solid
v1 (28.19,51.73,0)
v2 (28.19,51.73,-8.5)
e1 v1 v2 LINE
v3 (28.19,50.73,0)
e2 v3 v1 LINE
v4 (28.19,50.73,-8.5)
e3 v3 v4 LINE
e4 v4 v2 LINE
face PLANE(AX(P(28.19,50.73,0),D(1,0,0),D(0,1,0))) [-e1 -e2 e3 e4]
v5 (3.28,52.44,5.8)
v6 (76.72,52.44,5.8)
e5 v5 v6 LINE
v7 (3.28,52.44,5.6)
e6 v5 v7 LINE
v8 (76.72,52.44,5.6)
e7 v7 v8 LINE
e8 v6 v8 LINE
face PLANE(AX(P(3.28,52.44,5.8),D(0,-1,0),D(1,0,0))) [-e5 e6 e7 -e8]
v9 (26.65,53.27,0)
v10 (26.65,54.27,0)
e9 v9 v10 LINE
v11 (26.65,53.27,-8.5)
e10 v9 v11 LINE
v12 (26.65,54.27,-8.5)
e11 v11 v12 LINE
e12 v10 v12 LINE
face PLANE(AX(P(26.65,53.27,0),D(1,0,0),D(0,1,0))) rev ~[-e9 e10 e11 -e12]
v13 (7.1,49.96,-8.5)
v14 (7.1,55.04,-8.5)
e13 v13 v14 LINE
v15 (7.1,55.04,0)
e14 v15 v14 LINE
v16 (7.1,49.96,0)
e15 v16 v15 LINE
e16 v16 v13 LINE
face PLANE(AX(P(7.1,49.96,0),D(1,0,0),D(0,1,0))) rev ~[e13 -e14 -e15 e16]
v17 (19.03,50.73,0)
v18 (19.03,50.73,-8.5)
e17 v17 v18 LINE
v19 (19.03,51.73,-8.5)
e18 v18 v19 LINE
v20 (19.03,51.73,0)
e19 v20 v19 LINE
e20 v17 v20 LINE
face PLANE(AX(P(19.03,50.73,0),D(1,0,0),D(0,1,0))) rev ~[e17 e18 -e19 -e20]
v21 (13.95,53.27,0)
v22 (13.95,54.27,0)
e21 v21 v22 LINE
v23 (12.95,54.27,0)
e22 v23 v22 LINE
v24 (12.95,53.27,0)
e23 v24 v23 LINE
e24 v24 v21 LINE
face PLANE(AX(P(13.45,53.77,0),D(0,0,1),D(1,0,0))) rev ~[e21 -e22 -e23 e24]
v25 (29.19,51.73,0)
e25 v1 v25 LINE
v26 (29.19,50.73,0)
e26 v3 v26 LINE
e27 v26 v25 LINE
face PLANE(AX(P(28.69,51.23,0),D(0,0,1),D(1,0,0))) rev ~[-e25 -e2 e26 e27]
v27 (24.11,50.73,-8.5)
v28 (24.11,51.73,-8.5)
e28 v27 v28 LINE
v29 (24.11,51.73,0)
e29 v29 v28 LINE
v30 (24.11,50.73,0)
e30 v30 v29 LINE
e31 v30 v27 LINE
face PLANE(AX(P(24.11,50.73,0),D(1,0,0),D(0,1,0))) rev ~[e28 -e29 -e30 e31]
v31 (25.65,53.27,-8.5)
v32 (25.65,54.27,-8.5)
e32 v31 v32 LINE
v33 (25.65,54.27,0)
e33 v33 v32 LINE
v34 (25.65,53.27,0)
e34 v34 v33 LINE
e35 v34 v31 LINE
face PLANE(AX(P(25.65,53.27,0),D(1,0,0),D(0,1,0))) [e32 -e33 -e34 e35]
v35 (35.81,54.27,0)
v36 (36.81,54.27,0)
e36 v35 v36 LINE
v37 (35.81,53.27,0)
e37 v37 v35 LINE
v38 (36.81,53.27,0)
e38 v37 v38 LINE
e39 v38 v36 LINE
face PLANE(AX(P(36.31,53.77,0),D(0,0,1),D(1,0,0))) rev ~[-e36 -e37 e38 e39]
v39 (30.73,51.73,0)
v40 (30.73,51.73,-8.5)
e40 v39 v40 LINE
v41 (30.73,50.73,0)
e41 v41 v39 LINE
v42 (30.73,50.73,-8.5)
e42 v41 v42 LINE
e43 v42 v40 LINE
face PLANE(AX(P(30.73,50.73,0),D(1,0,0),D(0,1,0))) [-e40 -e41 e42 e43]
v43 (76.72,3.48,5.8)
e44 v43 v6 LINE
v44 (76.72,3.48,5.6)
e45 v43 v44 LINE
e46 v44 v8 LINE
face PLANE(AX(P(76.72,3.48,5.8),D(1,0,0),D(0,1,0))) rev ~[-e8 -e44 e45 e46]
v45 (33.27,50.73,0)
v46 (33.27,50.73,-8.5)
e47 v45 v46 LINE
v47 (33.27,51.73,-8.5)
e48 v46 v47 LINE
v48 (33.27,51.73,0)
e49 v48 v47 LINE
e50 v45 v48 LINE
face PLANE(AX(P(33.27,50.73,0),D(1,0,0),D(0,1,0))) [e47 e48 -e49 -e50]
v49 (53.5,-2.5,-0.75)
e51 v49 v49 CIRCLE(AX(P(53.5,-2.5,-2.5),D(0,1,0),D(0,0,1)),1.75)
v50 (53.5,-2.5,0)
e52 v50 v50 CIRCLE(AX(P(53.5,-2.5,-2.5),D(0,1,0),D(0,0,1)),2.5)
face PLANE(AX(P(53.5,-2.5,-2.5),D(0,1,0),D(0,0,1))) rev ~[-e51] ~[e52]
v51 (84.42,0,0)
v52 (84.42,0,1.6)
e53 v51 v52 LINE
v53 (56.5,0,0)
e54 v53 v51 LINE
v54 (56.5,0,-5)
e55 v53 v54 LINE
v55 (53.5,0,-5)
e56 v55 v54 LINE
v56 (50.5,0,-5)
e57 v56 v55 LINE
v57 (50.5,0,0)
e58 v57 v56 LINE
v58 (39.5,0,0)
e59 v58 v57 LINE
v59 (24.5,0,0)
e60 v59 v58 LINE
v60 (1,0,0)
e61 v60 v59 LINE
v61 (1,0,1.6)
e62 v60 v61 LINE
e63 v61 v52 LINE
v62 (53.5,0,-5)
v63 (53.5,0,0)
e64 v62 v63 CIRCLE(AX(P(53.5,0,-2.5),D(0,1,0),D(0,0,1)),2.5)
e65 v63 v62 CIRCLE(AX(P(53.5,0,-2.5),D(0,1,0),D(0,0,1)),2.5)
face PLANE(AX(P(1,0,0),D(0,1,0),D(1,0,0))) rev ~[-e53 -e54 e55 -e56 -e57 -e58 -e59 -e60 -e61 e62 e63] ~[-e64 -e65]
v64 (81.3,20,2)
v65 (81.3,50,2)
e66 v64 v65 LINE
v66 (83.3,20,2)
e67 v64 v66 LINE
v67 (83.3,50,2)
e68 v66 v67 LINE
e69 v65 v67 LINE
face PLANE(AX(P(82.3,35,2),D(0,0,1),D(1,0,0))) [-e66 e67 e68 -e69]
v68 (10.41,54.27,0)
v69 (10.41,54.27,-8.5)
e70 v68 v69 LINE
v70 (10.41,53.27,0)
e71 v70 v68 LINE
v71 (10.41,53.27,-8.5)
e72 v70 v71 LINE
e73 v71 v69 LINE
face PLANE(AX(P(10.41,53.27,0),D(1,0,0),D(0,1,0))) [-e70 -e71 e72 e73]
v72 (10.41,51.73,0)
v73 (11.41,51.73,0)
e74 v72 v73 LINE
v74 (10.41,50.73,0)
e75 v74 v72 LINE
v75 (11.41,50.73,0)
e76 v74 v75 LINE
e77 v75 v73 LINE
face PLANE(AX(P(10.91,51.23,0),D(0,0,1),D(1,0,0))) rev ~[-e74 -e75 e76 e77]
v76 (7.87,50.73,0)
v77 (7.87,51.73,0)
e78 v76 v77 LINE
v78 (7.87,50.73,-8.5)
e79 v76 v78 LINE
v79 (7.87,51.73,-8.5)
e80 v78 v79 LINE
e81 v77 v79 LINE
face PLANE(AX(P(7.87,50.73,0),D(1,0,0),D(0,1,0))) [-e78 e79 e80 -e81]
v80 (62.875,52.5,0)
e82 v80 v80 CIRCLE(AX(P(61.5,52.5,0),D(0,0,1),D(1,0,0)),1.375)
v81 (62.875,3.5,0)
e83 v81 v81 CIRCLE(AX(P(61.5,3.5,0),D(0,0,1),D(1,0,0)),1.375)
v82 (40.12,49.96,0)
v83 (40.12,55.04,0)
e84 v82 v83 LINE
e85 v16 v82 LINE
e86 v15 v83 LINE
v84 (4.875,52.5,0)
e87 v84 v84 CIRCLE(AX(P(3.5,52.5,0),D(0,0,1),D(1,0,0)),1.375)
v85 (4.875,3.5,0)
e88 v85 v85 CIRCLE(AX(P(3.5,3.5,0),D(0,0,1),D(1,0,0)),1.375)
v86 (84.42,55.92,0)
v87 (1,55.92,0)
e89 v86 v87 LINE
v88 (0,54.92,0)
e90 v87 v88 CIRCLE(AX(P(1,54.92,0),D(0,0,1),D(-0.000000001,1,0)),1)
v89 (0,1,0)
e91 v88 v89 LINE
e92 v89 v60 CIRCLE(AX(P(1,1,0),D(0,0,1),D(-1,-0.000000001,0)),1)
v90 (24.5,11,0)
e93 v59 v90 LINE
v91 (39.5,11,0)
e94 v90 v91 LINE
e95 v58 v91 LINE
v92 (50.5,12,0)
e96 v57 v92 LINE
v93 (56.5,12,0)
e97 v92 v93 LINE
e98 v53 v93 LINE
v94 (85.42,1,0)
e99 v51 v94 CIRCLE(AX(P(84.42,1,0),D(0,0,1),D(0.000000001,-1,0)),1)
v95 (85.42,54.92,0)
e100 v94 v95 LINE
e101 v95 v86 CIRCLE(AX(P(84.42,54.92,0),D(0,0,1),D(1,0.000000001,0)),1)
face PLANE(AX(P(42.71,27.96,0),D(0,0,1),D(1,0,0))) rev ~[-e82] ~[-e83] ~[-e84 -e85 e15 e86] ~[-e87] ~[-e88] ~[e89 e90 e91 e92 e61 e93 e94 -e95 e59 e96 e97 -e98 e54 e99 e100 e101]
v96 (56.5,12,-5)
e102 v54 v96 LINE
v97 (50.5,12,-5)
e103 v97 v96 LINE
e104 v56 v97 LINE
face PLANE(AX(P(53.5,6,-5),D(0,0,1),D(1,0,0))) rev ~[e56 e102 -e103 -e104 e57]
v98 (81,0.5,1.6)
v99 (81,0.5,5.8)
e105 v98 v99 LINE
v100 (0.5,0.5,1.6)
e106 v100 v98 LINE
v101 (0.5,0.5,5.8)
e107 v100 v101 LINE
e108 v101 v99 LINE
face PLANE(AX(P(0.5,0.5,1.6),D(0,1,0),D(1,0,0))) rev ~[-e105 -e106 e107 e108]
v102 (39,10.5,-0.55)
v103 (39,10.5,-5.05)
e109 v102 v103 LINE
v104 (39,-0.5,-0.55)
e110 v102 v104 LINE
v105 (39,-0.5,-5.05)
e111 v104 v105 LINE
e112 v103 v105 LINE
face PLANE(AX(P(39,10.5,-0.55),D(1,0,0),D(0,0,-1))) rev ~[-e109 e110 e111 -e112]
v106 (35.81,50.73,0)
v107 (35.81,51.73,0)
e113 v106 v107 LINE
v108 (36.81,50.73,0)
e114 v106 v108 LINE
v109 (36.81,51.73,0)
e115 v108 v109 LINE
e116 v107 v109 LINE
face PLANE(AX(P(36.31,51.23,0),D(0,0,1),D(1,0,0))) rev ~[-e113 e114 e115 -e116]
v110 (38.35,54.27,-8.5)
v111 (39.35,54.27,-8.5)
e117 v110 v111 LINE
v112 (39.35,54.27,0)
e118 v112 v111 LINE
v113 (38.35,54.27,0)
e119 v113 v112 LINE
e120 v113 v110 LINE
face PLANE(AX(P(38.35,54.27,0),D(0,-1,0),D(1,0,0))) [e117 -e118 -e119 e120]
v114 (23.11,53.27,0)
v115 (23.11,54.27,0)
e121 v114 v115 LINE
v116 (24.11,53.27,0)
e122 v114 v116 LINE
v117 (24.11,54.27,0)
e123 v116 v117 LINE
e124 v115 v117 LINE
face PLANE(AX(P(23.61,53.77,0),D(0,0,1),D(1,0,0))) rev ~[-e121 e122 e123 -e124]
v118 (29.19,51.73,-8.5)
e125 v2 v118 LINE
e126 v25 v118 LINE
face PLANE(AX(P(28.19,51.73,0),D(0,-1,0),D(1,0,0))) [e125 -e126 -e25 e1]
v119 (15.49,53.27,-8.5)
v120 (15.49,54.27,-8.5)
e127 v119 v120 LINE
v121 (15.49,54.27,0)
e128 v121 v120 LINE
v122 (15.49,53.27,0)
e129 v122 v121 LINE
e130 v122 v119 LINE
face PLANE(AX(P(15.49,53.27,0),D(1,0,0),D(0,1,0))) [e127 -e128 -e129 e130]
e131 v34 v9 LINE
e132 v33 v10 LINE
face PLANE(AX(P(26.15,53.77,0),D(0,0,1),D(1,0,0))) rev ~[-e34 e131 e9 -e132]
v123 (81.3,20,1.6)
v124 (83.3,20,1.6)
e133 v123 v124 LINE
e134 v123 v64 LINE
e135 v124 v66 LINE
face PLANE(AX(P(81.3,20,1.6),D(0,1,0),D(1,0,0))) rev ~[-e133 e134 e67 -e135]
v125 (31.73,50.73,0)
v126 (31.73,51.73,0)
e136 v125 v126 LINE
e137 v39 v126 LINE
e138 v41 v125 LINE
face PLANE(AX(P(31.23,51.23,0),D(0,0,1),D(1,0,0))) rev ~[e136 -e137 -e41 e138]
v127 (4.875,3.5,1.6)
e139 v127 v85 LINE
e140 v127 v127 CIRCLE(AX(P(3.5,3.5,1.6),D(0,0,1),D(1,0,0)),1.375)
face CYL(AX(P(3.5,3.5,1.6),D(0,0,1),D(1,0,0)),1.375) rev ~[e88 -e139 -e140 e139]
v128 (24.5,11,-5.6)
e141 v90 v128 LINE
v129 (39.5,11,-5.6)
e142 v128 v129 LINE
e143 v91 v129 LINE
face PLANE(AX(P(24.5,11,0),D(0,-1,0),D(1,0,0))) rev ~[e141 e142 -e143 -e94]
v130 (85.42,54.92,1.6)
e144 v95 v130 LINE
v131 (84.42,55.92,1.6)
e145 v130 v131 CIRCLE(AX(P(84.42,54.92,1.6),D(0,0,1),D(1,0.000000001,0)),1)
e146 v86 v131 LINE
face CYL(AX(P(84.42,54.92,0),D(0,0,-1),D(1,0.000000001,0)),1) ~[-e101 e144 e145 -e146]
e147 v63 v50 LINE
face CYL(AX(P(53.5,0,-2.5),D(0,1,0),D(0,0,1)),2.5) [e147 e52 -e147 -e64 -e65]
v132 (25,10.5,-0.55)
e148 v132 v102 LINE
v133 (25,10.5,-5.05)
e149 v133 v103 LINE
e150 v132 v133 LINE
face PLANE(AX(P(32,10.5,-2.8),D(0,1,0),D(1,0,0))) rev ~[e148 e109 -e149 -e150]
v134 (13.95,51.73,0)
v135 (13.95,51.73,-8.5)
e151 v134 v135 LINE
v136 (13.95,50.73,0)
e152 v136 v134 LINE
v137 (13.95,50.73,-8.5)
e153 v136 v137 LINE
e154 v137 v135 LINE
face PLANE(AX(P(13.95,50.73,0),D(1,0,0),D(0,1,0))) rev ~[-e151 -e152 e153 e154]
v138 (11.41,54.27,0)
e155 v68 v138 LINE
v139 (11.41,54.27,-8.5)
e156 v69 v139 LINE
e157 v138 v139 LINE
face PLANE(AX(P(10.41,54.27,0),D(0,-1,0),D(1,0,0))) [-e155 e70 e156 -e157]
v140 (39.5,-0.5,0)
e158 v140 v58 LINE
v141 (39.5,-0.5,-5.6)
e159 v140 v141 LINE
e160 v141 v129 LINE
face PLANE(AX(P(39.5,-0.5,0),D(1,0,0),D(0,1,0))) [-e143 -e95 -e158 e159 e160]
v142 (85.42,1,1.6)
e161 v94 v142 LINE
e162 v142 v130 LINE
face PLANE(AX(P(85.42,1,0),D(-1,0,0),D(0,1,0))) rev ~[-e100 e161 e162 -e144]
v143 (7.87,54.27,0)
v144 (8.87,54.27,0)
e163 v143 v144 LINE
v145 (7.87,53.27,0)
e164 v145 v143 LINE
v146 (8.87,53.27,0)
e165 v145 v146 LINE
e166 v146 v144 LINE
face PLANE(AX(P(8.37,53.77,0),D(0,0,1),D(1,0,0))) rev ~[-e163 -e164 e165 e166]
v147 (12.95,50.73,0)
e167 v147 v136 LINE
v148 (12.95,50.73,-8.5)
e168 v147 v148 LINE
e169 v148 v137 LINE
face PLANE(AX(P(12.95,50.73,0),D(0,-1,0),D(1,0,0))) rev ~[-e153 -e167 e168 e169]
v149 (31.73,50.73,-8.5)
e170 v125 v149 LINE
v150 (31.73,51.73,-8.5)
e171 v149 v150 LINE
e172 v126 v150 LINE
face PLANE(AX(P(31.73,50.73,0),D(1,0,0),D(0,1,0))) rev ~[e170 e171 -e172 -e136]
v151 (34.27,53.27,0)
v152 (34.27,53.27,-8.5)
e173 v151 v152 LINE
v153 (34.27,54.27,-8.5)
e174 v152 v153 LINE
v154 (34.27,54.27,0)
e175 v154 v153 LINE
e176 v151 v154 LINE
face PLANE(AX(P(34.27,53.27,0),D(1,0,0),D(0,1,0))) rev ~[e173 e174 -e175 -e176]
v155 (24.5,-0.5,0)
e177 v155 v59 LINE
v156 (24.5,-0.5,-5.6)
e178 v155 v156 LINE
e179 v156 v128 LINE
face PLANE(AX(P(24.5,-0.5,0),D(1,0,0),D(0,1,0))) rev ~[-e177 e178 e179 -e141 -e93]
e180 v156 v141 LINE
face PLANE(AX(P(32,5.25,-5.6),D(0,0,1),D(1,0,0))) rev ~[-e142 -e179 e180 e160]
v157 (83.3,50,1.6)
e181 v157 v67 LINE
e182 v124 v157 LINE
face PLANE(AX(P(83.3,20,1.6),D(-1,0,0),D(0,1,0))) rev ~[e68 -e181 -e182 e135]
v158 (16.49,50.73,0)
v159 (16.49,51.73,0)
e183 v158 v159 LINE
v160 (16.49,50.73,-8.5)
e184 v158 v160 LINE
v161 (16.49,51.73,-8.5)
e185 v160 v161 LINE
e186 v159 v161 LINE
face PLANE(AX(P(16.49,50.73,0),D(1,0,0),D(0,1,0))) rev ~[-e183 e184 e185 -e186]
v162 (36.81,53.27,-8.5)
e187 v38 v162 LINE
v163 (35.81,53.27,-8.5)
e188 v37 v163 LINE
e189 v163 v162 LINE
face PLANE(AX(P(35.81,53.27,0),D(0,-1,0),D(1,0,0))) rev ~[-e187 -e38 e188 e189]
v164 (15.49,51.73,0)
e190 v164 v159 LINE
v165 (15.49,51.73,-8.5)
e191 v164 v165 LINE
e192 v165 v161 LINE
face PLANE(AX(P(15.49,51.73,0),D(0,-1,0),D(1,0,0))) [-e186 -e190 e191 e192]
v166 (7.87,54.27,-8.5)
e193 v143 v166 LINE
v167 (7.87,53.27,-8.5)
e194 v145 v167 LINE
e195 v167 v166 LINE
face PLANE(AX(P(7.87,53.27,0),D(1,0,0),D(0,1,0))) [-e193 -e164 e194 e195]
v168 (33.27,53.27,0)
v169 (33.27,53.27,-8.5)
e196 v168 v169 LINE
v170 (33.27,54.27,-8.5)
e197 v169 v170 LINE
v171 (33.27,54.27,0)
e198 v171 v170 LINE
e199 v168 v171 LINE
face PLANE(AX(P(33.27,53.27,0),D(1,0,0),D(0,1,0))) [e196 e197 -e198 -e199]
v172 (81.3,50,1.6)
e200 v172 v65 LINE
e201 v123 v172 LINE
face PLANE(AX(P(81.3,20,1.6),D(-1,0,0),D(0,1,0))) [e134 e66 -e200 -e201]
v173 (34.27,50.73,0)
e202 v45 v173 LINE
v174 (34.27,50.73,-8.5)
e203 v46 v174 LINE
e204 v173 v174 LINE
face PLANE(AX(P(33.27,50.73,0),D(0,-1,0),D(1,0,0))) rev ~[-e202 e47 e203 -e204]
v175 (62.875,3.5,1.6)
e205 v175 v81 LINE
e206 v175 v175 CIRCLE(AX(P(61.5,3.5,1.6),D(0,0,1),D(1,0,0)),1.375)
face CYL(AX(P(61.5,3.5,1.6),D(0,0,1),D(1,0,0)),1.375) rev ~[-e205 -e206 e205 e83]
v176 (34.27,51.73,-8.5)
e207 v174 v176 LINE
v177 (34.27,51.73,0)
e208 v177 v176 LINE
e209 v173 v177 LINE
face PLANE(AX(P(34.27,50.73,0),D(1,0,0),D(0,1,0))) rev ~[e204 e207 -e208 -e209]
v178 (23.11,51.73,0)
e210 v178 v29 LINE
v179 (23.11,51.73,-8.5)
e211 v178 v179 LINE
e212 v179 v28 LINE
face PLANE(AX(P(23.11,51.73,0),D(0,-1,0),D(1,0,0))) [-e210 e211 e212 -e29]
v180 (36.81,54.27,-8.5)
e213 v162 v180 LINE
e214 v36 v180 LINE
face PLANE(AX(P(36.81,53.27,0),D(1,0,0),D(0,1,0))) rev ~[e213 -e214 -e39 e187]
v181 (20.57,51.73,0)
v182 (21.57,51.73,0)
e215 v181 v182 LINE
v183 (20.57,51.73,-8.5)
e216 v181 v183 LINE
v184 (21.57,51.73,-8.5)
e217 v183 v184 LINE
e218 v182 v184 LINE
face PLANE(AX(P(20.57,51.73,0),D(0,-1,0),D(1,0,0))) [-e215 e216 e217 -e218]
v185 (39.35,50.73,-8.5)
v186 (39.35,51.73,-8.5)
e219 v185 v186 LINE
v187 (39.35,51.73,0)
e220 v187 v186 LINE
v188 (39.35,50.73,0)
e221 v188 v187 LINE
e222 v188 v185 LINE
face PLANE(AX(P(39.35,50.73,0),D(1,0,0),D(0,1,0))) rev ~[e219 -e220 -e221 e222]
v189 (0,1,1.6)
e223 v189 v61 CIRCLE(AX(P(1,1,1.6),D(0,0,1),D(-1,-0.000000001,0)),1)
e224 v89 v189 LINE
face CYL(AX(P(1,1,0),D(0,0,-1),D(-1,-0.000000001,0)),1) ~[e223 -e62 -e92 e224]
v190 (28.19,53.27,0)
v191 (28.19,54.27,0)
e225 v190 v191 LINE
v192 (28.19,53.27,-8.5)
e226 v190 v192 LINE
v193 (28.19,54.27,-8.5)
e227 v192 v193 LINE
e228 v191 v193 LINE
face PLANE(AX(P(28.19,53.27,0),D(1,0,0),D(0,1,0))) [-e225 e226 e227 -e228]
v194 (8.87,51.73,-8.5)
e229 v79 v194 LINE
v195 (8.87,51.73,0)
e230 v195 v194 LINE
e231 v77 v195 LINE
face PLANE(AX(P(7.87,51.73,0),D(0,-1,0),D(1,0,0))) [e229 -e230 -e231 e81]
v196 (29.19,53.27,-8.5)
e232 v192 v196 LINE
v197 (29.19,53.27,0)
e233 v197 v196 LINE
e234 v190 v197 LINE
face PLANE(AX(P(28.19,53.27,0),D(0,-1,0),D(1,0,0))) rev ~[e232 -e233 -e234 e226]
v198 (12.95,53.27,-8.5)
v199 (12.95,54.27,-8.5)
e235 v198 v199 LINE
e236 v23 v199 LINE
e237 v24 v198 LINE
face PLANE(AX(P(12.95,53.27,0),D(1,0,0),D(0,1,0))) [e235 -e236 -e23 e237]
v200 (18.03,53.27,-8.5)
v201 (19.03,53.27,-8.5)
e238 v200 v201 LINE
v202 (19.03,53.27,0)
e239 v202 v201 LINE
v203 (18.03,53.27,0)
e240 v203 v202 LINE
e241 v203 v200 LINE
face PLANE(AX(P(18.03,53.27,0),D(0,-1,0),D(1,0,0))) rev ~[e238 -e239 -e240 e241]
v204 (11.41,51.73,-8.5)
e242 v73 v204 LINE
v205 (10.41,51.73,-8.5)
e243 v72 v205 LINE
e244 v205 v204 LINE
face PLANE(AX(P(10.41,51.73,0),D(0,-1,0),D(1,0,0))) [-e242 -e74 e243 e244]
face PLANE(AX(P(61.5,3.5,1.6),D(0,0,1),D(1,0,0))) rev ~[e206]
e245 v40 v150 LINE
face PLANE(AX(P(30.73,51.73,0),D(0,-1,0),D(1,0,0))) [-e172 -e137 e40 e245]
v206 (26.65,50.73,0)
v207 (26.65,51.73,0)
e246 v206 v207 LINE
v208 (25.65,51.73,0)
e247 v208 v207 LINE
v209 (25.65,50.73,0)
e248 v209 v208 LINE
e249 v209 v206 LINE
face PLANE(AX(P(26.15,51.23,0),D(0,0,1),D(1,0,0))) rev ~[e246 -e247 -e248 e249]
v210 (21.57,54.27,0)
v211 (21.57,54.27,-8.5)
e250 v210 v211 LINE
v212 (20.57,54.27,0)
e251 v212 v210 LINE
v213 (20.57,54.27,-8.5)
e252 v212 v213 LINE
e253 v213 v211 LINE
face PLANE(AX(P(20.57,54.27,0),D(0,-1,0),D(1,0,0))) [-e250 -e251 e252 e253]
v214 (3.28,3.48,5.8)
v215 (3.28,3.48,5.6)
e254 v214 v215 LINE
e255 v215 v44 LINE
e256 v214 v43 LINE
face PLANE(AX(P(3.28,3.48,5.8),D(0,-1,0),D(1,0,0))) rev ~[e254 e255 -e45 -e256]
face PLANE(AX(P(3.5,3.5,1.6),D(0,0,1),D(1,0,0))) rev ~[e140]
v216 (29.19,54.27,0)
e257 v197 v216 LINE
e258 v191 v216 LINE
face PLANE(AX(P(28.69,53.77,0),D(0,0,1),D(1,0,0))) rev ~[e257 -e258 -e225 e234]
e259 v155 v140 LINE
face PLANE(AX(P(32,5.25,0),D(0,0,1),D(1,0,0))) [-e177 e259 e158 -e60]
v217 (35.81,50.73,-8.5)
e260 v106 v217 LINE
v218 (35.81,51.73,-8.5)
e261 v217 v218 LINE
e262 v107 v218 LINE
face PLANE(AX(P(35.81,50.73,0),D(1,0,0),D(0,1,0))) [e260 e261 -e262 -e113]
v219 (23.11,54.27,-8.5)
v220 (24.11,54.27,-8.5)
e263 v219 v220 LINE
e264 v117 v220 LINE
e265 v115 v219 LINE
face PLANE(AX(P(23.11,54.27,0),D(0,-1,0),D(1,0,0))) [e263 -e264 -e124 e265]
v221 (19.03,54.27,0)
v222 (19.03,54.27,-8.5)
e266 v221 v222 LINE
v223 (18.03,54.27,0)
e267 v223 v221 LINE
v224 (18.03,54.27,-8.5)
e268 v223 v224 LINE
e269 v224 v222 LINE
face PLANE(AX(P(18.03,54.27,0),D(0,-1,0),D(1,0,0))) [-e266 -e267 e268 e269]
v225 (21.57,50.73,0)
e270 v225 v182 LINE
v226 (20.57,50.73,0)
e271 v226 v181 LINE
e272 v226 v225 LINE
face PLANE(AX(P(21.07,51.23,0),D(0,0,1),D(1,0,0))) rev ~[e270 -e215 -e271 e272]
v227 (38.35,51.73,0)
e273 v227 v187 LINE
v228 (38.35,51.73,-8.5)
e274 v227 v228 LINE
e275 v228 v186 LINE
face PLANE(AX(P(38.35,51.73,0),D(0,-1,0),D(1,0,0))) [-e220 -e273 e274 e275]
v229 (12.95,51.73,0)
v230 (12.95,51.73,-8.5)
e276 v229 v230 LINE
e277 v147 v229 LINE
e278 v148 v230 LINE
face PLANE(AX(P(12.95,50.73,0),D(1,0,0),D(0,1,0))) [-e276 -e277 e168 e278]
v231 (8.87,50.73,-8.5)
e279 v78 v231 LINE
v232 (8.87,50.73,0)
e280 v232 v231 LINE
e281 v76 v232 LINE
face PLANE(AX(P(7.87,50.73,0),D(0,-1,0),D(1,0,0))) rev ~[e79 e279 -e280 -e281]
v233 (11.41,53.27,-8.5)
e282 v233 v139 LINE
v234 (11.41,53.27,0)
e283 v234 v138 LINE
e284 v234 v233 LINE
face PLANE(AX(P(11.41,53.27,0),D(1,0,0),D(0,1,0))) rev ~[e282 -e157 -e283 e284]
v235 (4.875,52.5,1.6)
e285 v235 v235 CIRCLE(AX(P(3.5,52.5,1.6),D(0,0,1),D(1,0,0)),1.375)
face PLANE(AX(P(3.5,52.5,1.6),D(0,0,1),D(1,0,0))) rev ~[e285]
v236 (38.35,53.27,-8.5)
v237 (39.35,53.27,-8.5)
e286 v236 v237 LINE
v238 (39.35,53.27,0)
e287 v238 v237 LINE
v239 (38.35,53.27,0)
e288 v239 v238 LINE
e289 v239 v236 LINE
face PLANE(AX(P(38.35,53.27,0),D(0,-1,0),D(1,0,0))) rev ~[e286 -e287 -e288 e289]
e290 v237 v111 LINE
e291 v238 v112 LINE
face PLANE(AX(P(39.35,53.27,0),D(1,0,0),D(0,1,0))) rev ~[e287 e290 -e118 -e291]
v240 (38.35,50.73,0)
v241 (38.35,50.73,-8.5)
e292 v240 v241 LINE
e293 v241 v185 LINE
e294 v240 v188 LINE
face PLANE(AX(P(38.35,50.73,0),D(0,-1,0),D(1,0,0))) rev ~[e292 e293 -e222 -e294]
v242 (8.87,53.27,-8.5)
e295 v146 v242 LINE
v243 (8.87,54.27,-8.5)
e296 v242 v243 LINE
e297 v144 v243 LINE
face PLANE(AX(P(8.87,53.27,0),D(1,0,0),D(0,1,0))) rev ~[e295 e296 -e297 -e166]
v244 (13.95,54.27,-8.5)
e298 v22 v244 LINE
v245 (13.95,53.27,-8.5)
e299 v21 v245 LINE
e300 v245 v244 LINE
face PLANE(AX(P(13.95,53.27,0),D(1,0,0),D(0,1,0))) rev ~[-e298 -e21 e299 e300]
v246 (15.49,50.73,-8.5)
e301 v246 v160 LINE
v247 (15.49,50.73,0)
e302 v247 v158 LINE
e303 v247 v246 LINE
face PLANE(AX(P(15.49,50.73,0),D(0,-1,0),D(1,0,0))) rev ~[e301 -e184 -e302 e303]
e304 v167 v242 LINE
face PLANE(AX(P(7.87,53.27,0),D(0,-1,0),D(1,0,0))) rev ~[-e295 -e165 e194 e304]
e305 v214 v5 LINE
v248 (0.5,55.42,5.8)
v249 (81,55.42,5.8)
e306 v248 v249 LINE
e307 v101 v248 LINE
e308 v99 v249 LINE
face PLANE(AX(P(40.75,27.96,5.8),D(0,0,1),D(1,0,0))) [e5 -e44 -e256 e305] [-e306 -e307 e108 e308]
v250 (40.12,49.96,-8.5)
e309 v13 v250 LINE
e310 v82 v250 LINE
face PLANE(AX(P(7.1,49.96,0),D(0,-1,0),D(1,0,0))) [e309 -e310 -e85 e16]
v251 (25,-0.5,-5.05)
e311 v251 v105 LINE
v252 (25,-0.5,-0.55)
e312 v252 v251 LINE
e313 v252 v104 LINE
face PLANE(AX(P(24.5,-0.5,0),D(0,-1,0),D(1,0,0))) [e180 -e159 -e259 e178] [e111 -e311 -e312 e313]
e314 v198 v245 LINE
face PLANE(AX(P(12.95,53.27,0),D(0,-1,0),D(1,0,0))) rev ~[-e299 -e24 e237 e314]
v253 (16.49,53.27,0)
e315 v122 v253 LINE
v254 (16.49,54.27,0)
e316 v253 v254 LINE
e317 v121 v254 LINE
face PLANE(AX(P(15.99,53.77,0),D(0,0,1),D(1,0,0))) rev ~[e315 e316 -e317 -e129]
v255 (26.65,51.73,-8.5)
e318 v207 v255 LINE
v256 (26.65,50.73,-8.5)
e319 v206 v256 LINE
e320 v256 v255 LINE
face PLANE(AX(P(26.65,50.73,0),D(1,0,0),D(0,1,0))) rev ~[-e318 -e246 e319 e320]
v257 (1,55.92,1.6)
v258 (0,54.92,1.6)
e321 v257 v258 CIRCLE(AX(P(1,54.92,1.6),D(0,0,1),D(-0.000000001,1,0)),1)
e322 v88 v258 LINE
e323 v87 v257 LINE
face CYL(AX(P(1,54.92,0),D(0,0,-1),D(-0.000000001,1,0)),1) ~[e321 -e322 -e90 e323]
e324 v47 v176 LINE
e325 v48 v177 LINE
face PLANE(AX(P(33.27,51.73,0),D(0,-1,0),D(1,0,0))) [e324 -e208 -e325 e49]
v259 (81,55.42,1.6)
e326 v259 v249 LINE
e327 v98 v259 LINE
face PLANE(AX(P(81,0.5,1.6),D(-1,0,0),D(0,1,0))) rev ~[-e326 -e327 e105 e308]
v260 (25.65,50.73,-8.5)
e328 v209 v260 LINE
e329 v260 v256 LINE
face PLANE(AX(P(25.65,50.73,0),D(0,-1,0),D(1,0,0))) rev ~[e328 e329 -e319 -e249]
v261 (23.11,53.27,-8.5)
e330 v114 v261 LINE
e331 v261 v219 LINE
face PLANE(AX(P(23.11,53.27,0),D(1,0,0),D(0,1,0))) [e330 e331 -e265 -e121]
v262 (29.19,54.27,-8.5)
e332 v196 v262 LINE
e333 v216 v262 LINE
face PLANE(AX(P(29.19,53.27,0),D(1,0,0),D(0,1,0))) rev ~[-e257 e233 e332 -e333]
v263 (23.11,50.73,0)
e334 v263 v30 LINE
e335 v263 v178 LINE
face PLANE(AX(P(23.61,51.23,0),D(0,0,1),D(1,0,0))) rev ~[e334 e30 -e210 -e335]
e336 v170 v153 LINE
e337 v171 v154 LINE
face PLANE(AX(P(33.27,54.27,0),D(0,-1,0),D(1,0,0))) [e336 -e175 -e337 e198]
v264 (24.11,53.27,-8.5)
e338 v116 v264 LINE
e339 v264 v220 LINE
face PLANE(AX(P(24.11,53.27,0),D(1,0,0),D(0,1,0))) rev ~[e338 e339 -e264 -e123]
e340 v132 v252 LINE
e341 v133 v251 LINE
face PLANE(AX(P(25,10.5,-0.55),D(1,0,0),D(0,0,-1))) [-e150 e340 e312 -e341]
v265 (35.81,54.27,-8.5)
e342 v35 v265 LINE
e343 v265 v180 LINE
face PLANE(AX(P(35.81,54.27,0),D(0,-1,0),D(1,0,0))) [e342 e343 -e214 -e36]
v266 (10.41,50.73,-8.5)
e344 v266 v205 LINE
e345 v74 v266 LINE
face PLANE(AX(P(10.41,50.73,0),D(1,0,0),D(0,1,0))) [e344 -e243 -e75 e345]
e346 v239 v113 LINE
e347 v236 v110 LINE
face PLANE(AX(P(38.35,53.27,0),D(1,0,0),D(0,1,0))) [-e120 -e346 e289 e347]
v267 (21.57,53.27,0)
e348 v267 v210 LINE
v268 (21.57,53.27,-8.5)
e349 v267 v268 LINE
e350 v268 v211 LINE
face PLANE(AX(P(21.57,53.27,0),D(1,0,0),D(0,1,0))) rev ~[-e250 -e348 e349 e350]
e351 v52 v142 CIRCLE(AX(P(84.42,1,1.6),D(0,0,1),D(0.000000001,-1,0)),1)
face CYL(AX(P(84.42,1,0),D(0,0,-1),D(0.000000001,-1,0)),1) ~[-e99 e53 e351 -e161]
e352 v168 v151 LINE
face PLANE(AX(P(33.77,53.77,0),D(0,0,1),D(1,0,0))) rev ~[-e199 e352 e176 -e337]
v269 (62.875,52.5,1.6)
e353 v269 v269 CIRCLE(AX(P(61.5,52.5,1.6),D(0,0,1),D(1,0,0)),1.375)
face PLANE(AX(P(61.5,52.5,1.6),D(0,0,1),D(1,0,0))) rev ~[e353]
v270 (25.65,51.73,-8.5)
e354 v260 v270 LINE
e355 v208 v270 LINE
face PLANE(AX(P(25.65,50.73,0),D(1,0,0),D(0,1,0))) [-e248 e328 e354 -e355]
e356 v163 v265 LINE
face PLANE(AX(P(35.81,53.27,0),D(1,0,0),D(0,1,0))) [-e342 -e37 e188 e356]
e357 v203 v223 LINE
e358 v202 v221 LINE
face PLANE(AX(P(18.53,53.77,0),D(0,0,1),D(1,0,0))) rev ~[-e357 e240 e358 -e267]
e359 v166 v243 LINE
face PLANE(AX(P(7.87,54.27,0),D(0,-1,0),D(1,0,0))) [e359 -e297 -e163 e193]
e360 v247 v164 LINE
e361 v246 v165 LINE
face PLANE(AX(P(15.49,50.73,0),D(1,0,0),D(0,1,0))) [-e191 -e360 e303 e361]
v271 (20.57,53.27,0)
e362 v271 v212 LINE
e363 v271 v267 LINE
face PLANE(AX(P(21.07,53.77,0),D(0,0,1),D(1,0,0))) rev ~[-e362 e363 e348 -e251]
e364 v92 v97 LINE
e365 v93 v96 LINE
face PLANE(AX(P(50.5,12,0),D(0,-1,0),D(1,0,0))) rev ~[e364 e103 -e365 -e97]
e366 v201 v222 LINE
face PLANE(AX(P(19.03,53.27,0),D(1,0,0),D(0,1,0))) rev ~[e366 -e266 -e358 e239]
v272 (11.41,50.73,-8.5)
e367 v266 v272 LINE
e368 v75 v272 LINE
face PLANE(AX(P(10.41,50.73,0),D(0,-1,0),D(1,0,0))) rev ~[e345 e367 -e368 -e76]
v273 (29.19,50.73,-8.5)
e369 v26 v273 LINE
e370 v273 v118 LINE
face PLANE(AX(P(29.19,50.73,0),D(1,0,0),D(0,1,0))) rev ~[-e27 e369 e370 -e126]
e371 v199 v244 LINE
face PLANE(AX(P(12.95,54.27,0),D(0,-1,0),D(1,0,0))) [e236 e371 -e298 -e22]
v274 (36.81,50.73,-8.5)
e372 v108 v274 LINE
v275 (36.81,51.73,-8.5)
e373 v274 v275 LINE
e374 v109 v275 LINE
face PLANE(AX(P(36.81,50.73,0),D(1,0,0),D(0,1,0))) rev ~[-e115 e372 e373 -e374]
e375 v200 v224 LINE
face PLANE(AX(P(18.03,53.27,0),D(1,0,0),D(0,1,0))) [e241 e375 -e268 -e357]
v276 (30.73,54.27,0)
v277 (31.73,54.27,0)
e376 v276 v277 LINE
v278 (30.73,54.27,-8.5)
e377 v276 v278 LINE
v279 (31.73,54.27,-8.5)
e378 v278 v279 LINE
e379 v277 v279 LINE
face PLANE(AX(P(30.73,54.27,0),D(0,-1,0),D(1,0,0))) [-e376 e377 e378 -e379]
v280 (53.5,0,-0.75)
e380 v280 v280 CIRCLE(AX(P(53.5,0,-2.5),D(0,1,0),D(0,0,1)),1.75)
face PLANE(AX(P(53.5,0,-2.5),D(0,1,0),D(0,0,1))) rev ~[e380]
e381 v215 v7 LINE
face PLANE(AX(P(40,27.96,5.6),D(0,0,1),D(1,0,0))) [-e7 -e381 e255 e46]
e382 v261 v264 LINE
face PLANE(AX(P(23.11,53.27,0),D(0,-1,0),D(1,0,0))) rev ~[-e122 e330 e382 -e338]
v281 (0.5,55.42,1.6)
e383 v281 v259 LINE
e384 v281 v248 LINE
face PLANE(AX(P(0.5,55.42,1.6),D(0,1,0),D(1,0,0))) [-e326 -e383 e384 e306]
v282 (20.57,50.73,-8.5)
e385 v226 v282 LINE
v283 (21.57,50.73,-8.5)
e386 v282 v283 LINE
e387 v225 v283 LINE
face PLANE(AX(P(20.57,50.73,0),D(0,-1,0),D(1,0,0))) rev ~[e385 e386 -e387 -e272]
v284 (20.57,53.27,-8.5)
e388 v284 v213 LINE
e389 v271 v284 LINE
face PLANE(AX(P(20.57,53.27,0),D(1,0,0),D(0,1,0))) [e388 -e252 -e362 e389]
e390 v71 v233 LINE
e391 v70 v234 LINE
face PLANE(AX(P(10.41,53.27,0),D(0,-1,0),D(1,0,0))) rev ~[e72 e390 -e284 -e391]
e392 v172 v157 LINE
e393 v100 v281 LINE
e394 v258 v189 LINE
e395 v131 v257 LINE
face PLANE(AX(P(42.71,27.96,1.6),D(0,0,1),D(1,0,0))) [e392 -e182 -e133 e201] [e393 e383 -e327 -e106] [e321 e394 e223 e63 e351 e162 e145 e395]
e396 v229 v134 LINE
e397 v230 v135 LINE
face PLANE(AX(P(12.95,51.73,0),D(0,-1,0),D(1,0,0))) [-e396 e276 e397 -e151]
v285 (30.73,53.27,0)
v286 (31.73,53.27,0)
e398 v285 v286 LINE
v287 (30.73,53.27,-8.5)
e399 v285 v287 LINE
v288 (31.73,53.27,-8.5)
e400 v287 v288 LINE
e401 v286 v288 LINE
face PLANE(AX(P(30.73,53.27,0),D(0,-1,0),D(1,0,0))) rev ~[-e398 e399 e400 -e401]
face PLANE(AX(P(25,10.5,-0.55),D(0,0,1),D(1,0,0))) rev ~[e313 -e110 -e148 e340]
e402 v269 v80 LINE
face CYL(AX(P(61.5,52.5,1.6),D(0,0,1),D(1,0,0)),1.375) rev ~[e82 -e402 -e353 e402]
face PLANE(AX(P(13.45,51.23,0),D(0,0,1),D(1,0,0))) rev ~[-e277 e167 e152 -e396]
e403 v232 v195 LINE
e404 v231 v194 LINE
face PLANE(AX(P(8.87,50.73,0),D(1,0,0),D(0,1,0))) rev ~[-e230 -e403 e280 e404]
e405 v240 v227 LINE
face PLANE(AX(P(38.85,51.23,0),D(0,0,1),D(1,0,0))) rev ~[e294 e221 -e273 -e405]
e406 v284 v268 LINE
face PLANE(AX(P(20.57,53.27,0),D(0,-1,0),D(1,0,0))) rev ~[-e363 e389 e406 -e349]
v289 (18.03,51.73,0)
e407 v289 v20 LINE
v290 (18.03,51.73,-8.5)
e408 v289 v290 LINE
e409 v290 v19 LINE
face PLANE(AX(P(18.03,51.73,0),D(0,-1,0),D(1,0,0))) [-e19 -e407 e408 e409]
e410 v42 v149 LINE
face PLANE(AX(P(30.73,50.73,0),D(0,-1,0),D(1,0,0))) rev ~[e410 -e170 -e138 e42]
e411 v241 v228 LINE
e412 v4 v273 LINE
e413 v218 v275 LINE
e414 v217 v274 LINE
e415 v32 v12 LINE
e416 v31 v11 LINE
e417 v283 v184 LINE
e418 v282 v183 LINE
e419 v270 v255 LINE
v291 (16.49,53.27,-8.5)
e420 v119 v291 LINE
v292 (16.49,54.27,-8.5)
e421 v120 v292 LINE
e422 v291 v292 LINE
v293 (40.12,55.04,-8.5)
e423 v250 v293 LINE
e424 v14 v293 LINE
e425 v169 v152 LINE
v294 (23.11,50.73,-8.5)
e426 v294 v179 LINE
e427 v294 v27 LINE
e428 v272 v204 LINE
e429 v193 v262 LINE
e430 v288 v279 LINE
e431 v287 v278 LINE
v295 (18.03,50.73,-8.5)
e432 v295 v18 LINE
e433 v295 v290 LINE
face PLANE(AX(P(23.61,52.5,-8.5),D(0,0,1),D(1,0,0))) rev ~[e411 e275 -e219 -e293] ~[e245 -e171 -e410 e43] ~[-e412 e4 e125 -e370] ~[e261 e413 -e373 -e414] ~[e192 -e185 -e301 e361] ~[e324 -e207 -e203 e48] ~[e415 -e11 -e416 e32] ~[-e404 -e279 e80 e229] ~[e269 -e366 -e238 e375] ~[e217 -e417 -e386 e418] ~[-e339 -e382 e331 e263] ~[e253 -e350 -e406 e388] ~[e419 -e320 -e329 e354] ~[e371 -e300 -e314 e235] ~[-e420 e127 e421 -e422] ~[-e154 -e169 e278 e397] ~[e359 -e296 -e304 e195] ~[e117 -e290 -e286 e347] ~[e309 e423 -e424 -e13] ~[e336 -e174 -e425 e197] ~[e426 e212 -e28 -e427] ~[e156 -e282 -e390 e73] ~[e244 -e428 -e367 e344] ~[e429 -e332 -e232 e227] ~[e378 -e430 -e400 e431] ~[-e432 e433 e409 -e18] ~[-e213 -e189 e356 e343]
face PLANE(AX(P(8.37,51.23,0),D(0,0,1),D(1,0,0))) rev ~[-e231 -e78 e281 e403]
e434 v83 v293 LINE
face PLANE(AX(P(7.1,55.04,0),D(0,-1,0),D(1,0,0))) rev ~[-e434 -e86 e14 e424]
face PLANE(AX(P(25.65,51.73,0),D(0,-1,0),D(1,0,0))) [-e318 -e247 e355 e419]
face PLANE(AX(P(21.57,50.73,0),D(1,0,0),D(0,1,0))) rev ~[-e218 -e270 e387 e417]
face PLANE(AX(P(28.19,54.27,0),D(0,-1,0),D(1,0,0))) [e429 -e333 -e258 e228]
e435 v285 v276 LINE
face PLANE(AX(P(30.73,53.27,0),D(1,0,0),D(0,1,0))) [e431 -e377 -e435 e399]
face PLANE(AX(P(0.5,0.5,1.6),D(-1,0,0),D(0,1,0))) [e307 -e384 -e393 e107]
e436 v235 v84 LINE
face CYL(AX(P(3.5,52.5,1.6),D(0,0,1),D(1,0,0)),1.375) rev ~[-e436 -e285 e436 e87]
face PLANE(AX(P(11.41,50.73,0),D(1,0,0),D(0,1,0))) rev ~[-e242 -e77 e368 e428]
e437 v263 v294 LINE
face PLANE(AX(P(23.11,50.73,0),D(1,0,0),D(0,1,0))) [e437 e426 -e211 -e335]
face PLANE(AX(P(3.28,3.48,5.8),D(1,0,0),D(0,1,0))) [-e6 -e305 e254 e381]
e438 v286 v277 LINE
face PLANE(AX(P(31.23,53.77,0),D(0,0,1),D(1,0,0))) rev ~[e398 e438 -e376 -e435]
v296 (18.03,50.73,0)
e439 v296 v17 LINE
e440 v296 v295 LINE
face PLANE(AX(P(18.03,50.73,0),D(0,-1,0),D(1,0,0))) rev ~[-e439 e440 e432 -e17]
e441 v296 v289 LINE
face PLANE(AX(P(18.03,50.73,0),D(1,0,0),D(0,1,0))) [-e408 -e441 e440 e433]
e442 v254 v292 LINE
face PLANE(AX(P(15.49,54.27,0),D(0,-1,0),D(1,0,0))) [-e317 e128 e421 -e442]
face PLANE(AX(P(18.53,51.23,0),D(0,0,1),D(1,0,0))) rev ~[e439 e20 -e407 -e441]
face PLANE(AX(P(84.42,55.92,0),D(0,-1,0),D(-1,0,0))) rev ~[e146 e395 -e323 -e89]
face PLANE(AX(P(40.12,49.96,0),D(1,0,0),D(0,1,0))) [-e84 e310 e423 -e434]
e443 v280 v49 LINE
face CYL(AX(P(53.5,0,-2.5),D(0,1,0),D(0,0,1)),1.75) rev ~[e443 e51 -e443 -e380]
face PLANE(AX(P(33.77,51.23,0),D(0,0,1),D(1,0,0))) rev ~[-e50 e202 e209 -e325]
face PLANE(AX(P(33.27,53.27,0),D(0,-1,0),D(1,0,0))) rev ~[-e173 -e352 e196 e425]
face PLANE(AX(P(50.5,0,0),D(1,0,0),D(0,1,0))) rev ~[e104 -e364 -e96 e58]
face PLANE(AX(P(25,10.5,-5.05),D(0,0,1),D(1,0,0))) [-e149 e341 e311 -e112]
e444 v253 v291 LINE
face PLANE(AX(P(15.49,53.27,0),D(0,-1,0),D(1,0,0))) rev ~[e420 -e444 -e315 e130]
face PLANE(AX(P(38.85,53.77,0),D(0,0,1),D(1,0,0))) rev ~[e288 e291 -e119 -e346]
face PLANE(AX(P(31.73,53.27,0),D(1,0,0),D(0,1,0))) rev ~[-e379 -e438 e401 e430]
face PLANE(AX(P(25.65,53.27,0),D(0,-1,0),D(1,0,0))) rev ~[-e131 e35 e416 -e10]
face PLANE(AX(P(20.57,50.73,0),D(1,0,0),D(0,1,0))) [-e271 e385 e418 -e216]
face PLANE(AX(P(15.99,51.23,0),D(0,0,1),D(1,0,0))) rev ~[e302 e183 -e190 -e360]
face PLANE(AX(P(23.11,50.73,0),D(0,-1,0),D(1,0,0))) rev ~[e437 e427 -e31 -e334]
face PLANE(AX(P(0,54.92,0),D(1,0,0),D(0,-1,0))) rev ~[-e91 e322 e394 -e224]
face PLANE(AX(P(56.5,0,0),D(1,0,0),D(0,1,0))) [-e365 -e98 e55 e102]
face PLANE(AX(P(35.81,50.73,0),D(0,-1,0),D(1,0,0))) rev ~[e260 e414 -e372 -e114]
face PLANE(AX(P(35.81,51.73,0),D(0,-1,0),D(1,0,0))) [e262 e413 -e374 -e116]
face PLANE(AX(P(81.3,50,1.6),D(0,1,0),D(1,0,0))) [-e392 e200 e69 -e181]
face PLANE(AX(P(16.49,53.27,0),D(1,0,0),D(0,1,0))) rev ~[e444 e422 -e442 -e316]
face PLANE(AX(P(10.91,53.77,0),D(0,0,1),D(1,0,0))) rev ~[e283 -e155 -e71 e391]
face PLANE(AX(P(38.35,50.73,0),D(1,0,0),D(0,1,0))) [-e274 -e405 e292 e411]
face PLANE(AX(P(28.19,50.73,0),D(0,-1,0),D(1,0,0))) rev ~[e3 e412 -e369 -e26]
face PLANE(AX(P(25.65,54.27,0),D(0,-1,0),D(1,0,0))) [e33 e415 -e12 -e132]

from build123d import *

# Parameters (mm, degrees)
PCB_DEPTH                       = 1.6
SKETCH2_W                       = 2
SKETCH2_H                       = 30
BODY00_DEPTH                    = 0.4
SKETCH3_W                       = 80.5
SKETCH3_H                       = 54.92
BODY01_DEPTH                    = 4.2
SKETCH4_W                       = 6
SKETCH4_H                       = 12
UNDER00_DEPTH                   = 5
SKETCH5_W                       = 15
SKETCH5_H                       = 11.5
UNDER01_DEPTH                   = 5.6
SKETCH6_W                       = 33.02
SKETCH6_H                       = 5.08
UNDER02_DEPTH                   = 8.5
SKETCH7_R                       = 2.5
SIDE0_AUDIO_JACK_NOSE_DEPTH     = 2.5
SKETCH8_R                       = 1.75
SIDEBORE0_AUDIO_JACK_NOSE_DEPTH = 2.5
SKETCH9_W                       = 14
SKETCH9_H                       = 4.5
CUT00_DEPTH                     = 11
SKETCH10_W                      = 1
SKETCH10_H                      = 1
CUT01_DEPTH                     = 8.5
SKETCH11_W                      = 73.44
SKETCH11_H                      = 48.96
CUT02_DEPTH                     = 0.2
SKETCH12_R                      = 1.375
HOLES_DEPTH                     = 1.6


with BuildPart() as part:
    # Sketch1 → PCB (new body)
    with BuildSketch(Plane.XY):
        with BuildLine():
            Line((1, 0), (84.42, 0))
            ThreePointArc((84.42, 0), (85.127106781, 0.292893219), (85.42, 1))
            Line((85.42, 1), (85.42, 54.92))
            ThreePointArc((85.42, 54.92), (85.127106781, 55.627106781), (84.42, 55.92))
            Line((84.42, 55.92), (1, 55.92))
            ThreePointArc((1, 55.92), (0.292893219, 55.627106781), (0, 54.92))
            Line((0, 54.92), (0, 1))
            ThreePointArc((0, 1), (0.292893219, 0.292893219), (1, 0))
        make_face()
    extrude(amount=PCB_DEPTH)

    # Sketch2 → Body00 (add)
    with BuildSketch(Plane.XY.offset(1.6)):
        with Locations((82.3, 35)):
            Rectangle(SKETCH2_W, SKETCH2_H)
    extrude(amount=BODY00_DEPTH)

    # Sketch3 → Body01 (add)
    with BuildSketch(Plane.XY.offset(1.6)):
        with Locations((40.75, 27.96)):
            Rectangle(SKETCH3_W, SKETCH3_H)
    extrude(amount=BODY01_DEPTH)

    # Sketch4 → Under00 (add)
    with BuildSketch(Plane.XY):
        with Locations((53.5, 6)):
            Rectangle(SKETCH4_W, SKETCH4_H)
    extrude(amount=-UNDER00_DEPTH)

    # Sketch5 → Under01 (add)
    with BuildSketch(Plane.XY):
        with Locations((32, 5.25)):
            Rectangle(SKETCH5_W, SKETCH5_H)
    extrude(amount=-UNDER01_DEPTH)

    # Sketch6 → Under02 (add)
    with BuildSketch(Plane.XY):
        with Locations((23.61, 52.5)):
            Rectangle(SKETCH6_W, SKETCH6_H)
    extrude(amount=-UNDER02_DEPTH)

    # Sketch7 → Side0_Audio_jack_nose (add)
    with BuildSketch(Plane(origin=(0, 0, 0), x_dir=(1, 0, 0), z_dir=(0, 1, 0))):
        with Locations(Location((53.5, 2.5, 0), (0, 0, 270))):
            Circle(SKETCH7_R)
    extrude(amount=-SIDE0_AUDIO_JACK_NOSE_DEPTH)

    # Sketch8 → SideBore0_Audio_jack_nose (cut)
    with BuildSketch(Plane(origin=(0, 0, 0), x_dir=(1, 0, 0), z_dir=(0, 1, 0))):
        with Locations(Location((53.5, 2.5, 0), (0, 0, 270))):
            Circle(SKETCH8_R)
    extrude(amount=-SIDEBORE0_AUDIO_JACK_NOSE_DEPTH, mode=Mode.SUBTRACT)

    # Sketch9 → Cut00 (cut)
    with BuildSketch(Plane(origin=(0, 10.5, 0), x_dir=(1, 0, 0), z_dir=(0, 1, 0))):
        with Locations((32, 2.8)):
            Rectangle(SKETCH9_W, SKETCH9_H)
    extrude(amount=-CUT00_DEPTH, mode=Mode.SUBTRACT)

    # Sketch10 → Cut01 (cut)
    with BuildSketch(Plane.XY):
        with Locations((8.37, 51.23)):
            Rectangle(SKETCH10_W, SKETCH10_H)
        with Locations((8.37, 53.77)):
            Rectangle(SKETCH10_W, SKETCH10_H)
        with Locations((10.91, 51.23)):
            Rectangle(SKETCH10_W, SKETCH10_H)
        with Locations((10.91, 53.77)):
            Rectangle(SKETCH10_W, SKETCH10_H)
        with Locations((13.45, 51.23)):
            Rectangle(SKETCH10_W, SKETCH10_H)
        with Locations((13.45, 53.77)):
            Rectangle(SKETCH10_W, SKETCH10_H)
        with Locations((15.99, 51.23)):
            Rectangle(SKETCH10_W, SKETCH10_H)
        with Locations((15.99, 53.77)):
            Rectangle(SKETCH10_W, SKETCH10_H)
        with Locations((18.53, 51.23)):
            Rectangle(SKETCH10_W, SKETCH10_H)
        with Locations((18.53, 53.77)):
            Rectangle(SKETCH10_W, SKETCH10_H)
        with Locations((21.07, 51.23)):
            Rectangle(SKETCH10_W, SKETCH10_H)
        with Locations((21.07, 53.77)):
            Rectangle(SKETCH10_W, SKETCH10_H)
        with Locations((23.61, 51.23)):
            Rectangle(SKETCH10_W, SKETCH10_H)
        with Locations((23.61, 53.77)):
            Rectangle(SKETCH10_W, SKETCH10_H)
        with Locations((26.15, 51.23)):
            Rectangle(SKETCH10_W, SKETCH10_H)
        with Locations((26.15, 53.77)):
            Rectangle(SKETCH10_W, SKETCH10_H)
        with Locations((28.69, 51.23)):
            Rectangle(SKETCH10_W, SKETCH10_H)
        with Locations((28.69, 53.77)):
            Rectangle(SKETCH10_W, SKETCH10_H)
        with Locations((31.23, 51.23)):
            Rectangle(SKETCH10_W, SKETCH10_H)
        with Locations((31.23, 53.77)):
            Rectangle(SKETCH10_W, SKETCH10_H)
        with Locations((33.77, 51.23)):
            Rectangle(SKETCH10_W, SKETCH10_H)
        with Locations((33.77, 53.77)):
            Rectangle(SKETCH10_W, SKETCH10_H)
        with Locations((36.31, 51.23)):
            Rectangle(SKETCH10_W, SKETCH10_H)
        with Locations((36.31, 53.77)):
            Rectangle(SKETCH10_W, SKETCH10_H)
        with Locations((38.85, 51.23)):
            Rectangle(SKETCH10_W, SKETCH10_H)
        with Locations((38.85, 53.77)):
            Rectangle(SKETCH10_W, SKETCH10_H)
    extrude(amount=-CUT01_DEPTH, mode=Mode.SUBTRACT)

    # Sketch11 → Cut02 (cut)
    with BuildSketch(Plane.XY.offset(5.8)):
        with Locations((40, 27.96)):
            Rectangle(SKETCH11_W, SKETCH11_H)
    extrude(amount=-CUT02_DEPTH, mode=Mode.SUBTRACT)

    # Sketch12 → Holes (cut)
    with BuildSketch(Plane.XY.offset(1.6)):
        with Locations((3.5, 3.5)):
            Circle(SKETCH12_R)
        with Locations((3.5, 52.5)):
            Circle(SKETCH12_R)
        with Locations((61.5, 3.5)):
            Circle(SKETCH12_R)
        with Locations((61.5, 52.5)):
            Circle(SKETCH12_R)
    extrude(amount=-HOLES_DEPTH, mode=Mode.SUBTRACT)


solid = part.part
